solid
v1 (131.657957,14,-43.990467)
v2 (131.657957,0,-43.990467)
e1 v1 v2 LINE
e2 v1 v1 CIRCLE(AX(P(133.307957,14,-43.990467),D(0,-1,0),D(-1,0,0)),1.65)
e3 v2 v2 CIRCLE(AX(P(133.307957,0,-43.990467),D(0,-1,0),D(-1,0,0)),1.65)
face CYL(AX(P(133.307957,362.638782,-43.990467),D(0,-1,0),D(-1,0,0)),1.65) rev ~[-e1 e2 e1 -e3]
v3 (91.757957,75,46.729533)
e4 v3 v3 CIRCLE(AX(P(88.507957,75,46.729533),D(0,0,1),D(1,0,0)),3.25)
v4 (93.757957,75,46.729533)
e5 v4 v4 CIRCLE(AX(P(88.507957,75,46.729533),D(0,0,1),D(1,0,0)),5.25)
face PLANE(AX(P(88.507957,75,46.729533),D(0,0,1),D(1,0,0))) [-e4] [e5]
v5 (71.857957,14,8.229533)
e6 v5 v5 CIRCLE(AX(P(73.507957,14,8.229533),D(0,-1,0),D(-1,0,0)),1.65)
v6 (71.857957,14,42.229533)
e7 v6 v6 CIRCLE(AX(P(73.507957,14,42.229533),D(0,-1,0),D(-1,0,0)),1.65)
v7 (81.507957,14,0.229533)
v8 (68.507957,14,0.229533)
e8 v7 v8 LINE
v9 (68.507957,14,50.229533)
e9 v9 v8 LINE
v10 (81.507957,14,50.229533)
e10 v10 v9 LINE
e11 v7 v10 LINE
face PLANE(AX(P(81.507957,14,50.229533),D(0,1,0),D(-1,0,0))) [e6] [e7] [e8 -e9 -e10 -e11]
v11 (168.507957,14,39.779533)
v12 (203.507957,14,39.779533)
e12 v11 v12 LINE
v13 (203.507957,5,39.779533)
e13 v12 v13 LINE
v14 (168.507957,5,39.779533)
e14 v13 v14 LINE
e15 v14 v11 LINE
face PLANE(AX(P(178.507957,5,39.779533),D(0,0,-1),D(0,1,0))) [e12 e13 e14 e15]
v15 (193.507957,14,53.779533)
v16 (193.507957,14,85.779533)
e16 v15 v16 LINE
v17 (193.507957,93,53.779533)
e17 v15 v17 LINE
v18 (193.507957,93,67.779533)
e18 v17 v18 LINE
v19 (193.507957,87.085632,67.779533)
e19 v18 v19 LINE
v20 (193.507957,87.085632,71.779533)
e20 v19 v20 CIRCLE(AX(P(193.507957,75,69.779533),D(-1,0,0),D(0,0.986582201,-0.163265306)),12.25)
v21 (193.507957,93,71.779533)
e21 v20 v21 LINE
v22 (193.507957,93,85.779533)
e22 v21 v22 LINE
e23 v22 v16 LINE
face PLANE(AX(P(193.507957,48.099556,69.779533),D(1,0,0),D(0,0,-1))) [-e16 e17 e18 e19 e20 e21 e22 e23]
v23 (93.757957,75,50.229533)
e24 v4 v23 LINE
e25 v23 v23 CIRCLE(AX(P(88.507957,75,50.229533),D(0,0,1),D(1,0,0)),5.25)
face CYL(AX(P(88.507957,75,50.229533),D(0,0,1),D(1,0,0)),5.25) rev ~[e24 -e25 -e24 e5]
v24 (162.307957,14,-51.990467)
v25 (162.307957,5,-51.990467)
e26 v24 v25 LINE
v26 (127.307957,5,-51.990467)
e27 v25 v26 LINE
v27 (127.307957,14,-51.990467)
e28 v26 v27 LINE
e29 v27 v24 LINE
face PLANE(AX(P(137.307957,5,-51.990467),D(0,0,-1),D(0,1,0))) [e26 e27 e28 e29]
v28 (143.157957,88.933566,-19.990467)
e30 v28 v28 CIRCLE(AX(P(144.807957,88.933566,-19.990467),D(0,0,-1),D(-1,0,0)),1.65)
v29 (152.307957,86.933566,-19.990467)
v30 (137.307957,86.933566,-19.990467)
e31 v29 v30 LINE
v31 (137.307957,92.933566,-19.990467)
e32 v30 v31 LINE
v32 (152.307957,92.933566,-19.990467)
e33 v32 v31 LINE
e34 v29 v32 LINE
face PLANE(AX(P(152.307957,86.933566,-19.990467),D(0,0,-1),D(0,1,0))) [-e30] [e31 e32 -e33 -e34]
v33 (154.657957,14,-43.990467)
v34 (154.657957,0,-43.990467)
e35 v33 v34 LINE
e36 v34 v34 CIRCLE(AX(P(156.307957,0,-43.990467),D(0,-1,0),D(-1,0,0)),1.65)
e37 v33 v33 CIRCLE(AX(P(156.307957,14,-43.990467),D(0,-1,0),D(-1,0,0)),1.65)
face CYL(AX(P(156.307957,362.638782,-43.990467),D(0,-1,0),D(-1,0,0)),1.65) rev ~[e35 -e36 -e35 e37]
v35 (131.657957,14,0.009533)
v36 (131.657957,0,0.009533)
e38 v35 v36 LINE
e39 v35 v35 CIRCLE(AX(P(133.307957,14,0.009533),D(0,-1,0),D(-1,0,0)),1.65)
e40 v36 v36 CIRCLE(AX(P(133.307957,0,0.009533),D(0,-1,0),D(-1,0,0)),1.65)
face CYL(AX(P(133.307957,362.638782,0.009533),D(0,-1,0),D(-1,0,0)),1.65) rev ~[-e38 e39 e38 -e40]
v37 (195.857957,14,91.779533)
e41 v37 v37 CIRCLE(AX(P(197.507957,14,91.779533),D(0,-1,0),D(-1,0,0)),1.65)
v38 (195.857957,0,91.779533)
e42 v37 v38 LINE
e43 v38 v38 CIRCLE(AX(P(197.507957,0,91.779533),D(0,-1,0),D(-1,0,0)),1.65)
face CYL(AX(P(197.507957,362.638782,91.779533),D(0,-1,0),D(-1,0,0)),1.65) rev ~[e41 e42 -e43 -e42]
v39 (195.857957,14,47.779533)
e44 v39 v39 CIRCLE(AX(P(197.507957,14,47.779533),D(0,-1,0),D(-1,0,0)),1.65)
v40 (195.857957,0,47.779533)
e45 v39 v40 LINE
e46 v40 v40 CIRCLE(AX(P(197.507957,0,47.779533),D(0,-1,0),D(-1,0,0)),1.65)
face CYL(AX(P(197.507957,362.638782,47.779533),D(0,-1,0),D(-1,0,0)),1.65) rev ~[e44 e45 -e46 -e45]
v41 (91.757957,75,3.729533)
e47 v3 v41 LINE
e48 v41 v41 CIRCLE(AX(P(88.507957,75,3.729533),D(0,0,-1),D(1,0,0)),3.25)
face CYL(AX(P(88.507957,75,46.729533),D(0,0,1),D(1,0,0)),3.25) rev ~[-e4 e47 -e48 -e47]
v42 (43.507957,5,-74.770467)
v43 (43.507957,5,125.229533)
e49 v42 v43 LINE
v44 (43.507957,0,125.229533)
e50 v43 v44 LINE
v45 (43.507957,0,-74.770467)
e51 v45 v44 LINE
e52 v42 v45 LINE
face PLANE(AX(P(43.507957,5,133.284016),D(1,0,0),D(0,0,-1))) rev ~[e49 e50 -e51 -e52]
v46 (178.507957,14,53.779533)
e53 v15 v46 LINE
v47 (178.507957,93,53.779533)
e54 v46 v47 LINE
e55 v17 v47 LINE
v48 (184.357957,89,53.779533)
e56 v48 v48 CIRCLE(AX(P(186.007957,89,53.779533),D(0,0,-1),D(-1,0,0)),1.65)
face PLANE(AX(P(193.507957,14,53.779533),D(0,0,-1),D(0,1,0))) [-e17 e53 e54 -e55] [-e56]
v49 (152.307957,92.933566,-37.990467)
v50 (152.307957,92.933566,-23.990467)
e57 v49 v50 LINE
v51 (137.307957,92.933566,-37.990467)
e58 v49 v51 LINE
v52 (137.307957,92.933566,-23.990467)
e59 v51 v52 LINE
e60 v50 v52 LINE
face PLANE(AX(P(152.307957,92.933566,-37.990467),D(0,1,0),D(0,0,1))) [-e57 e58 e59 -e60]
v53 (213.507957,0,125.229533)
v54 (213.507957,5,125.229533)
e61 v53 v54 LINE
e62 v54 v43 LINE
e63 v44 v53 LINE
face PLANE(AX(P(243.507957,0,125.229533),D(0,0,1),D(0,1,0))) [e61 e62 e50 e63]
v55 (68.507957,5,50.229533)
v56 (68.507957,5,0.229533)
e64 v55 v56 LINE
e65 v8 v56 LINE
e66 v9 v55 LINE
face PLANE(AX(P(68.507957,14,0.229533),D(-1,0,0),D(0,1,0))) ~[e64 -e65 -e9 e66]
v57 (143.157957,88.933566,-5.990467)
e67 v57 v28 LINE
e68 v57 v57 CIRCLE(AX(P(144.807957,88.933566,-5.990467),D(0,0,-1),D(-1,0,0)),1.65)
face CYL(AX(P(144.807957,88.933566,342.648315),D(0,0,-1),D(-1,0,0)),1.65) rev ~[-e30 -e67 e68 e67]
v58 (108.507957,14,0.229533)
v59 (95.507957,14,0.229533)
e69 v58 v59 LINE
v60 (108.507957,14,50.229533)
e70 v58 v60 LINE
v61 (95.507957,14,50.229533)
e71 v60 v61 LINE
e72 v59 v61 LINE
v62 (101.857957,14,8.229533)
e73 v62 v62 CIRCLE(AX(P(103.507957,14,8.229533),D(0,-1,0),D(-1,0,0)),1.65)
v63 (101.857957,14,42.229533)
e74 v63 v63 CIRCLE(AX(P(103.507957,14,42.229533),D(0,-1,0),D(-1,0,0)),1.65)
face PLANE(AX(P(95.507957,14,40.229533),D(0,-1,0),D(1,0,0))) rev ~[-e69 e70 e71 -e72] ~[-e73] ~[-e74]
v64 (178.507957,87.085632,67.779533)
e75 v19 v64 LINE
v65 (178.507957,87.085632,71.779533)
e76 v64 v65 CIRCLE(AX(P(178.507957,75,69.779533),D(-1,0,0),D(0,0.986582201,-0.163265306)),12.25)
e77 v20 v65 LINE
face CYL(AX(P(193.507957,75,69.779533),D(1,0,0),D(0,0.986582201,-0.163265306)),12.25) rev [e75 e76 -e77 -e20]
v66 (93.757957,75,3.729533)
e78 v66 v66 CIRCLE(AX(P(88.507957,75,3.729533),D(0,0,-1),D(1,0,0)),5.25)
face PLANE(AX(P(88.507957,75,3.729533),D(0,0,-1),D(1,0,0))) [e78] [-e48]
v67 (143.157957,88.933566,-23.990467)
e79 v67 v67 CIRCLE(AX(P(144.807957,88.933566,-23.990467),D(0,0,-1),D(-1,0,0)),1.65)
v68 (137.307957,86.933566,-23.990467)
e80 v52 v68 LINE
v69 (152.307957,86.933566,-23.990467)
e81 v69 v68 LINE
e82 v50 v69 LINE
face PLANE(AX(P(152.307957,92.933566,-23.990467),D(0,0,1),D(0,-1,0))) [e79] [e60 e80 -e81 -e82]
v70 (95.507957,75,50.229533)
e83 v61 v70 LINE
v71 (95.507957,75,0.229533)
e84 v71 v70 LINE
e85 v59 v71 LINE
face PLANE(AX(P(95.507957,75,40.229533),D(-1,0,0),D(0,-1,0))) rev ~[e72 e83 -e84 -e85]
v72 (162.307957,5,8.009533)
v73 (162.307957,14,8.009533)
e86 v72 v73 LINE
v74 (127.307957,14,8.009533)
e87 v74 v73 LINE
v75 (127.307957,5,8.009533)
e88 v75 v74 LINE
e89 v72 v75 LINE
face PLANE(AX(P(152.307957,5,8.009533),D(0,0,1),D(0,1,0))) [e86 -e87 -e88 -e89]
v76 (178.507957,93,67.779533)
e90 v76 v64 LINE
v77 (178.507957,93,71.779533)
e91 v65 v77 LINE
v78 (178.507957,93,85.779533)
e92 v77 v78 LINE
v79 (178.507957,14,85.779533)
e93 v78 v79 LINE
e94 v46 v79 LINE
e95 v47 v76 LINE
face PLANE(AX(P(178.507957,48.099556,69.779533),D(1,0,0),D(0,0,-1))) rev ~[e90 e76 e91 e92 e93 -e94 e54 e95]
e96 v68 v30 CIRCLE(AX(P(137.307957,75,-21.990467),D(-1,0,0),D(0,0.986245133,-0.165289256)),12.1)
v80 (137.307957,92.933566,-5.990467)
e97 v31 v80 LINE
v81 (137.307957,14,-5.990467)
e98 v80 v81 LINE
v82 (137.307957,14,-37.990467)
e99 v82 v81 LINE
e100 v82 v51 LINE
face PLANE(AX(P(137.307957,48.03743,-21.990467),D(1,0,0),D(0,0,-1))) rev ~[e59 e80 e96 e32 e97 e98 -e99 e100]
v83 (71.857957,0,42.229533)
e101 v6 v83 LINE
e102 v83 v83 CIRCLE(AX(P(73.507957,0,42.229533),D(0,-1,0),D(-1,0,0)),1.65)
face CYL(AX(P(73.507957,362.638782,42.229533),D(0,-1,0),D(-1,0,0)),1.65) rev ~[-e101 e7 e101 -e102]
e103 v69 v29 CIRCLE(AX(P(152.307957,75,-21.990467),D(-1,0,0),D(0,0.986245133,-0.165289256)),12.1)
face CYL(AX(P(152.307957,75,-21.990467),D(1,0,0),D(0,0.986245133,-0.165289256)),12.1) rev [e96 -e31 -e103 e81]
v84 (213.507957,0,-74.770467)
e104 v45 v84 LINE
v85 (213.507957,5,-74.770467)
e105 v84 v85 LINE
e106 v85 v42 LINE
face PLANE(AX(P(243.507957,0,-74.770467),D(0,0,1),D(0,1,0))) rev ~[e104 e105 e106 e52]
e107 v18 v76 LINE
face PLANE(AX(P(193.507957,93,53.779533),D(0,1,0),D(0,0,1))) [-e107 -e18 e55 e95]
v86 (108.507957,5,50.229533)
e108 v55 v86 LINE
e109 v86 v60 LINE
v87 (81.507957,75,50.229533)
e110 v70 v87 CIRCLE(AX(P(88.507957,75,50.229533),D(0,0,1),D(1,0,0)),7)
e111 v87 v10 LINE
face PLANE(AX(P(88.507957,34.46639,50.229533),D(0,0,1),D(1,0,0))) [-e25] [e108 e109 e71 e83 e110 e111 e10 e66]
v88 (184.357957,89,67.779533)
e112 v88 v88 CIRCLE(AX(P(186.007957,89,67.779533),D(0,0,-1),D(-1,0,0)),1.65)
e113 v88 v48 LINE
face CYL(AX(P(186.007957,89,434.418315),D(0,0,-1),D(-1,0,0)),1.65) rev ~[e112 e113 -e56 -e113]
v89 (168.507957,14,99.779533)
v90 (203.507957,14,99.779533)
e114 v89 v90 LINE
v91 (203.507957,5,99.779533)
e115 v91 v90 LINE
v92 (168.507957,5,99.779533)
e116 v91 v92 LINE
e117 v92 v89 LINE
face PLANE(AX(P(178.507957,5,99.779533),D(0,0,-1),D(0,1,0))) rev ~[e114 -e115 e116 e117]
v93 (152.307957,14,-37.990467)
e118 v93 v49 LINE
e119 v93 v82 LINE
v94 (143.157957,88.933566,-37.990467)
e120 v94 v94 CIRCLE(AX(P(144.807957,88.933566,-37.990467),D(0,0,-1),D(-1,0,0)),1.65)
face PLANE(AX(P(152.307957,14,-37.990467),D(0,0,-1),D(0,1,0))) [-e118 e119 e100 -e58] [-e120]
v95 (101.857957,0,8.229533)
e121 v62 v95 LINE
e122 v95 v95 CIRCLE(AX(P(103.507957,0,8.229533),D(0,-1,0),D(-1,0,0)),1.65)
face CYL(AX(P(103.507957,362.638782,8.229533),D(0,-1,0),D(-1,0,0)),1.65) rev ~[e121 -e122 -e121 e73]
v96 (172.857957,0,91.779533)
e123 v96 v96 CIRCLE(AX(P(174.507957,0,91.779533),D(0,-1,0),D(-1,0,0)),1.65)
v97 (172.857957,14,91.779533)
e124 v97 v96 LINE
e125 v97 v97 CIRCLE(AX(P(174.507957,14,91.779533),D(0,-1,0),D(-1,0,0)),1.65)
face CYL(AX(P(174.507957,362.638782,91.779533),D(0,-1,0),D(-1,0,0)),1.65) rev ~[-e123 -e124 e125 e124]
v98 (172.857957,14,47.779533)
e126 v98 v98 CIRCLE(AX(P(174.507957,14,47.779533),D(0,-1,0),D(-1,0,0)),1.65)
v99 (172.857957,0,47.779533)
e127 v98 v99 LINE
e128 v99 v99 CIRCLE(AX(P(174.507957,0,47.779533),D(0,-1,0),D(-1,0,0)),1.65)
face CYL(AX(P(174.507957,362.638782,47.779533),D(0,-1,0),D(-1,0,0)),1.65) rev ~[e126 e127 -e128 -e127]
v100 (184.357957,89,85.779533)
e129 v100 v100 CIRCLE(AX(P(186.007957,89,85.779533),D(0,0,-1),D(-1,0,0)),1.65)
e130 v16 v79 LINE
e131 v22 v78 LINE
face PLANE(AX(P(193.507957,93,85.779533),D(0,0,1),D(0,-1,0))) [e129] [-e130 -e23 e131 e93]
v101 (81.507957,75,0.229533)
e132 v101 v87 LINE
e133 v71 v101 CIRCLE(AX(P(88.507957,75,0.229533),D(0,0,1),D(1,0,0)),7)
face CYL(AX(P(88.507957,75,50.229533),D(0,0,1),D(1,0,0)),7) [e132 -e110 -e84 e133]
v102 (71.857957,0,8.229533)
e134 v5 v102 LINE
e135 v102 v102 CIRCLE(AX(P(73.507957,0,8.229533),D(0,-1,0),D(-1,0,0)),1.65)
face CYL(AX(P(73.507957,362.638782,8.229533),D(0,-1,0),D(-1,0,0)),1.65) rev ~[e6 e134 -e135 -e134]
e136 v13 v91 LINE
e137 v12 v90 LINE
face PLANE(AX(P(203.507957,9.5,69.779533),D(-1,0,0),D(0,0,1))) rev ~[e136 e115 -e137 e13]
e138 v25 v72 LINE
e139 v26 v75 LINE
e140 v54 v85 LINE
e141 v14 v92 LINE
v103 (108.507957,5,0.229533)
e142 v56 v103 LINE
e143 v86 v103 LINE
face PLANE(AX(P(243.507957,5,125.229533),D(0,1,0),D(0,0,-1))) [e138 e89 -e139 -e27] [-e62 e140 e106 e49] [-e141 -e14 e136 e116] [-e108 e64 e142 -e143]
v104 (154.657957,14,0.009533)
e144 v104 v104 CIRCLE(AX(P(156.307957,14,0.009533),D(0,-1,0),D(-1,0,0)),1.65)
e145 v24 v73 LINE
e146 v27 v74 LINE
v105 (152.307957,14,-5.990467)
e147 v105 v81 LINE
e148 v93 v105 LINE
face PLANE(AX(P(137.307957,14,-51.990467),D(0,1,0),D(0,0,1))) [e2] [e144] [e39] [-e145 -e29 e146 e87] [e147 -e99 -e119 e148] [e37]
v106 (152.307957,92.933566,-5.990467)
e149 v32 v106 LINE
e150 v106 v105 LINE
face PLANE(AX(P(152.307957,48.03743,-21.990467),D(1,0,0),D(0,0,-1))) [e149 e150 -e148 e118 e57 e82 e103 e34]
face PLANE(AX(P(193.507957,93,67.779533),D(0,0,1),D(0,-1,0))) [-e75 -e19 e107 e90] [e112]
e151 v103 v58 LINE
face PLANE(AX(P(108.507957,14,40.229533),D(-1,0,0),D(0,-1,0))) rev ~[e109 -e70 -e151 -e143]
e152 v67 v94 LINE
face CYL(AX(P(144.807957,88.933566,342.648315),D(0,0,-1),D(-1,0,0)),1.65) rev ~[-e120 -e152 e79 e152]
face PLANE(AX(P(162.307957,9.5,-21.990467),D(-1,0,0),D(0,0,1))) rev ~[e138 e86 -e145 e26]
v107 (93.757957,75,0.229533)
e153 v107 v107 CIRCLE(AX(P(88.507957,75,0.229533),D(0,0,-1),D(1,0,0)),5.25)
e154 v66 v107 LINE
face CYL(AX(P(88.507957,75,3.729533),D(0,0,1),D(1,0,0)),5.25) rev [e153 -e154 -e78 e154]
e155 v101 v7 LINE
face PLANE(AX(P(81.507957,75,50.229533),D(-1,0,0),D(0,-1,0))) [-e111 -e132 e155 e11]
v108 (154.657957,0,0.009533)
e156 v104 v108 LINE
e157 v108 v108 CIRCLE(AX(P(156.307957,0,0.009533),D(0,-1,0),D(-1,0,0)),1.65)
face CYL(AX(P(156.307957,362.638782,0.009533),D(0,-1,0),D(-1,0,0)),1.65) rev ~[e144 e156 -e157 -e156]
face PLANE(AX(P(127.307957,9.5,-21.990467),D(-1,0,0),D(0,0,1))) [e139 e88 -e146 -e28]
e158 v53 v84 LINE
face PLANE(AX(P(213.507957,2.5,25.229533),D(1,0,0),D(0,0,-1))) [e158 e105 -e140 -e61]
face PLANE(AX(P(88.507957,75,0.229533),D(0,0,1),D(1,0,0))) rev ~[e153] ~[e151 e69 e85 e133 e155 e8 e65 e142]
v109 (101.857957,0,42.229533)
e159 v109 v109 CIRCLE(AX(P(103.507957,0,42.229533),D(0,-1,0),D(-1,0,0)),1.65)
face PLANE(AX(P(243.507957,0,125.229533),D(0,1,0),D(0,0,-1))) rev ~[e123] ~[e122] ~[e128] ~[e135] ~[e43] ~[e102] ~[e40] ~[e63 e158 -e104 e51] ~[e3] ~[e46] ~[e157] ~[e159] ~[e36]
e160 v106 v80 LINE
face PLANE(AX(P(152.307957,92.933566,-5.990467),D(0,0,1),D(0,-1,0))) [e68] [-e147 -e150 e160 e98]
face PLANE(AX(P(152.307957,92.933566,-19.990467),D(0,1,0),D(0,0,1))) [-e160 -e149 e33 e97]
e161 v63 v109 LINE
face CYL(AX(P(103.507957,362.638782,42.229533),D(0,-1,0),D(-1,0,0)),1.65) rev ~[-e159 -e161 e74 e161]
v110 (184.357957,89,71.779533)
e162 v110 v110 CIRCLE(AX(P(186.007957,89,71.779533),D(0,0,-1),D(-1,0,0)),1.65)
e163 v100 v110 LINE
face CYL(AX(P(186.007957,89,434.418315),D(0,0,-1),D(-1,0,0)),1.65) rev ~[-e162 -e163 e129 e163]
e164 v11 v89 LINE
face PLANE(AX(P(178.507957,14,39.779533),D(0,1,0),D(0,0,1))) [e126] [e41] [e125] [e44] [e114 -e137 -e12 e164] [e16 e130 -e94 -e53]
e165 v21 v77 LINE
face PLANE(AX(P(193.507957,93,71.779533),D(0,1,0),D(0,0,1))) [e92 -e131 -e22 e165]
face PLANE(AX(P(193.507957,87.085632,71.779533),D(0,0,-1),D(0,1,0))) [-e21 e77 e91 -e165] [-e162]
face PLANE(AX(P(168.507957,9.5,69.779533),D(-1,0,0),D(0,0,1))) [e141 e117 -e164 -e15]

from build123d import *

# Parameters (mm, degrees)
SKETCH_2_W               = 240.549430728
SKETCH_2_H               = 149.540933388
EXTRUDE_1_DEPTH          = 5
SKETCH_6_W               = 93.246571425
SKETCH_6_H               = 149.540933388
EXTRUDE_4_DEPTH          = 5
SKETCH_8_W               = 274.716709757
SKETCH_8_H               = 58.51354913
EXTRUDE_6_DEPTH          = 5
CUT_EXTRUDE_2_DEPTH      = 252.755772101
CUT_EXTRUDE_2_DEPTH_BACK = 252.755772101
SKETCH_9_W               = 59.079292396
SKETCH_9_H               = 149.540933388
SKETCH_10_W              = 104.703380117
SKETCH_10_H              = 208.054482518
CUT_EXTRUDE_3_DEPTH      = 10
SKETCH_12_W              = 200
SKETCH_12_H              = 200
EXTRUDE_7_DEPTH          = 5
SKETCH_13_OUTSIDE_W      = 259.728
SKETCH_13_OUTSIDE_H      = 267.782
SKETCH_13_OUTSIDE_W_2    = 200
SKETCH_13_OUTSIDE_H_2    = 200
CUT_EXTRUDE_4_DEPTH      = 278.64321362
EXTRUDE_START            = -75
SKETCH_18_R              = 5.25
EXTRUDE_9_DEPTH          = 10
EXTRUDE_START_2          = -50
EXTRUDE_10_DEPTH         = 15
EXTRUDE_START_3          = -91.2
EXTRUDE_11_DEPTH         = 15
EXTRUDE_12_REACH         = 286.904
SKETCH_20_R              = 5.25
SKETCH_26_W              = 200
SKETCH_26_H              = 5
EXTRUDE_13_DEPTH         = 100
SKETCH_27_W              = 200
SKETCH_27_H              = 5
CUT_EXTRUDE_5_DEPTH      = 30
EXTRUDE_14_DEPTH         = 10
SKETCH_29_W              = 60
SKETCH_29_H              = 9
EXTRUDE_15_DEPTH         = 10
HOLE_WIZARD_M4_1_D       = 3.3
HOLE_WIZARD_M4_2_D       = 3.3
HOLE_WIZARD_M4_3_D       = 3.3
EXTRUDE_16_DEPTH         = 10
SKETCH_37_W              = 60
SKETCH_37_H              = 9
EXTRUDE_17_DEPTH         = 10
HOLE_WIZARD_M4_4_D       = 3.3
EXTRUDE_START_4          = -3.5
SKETCH_40_R              = 5.25
SKETCH_40_R_2            = 3.25
EXTRUDE_18_DEPTH         = 46.5
CUT_EXTRUDE_START        = -3.5
SKETCH_41_R              = 5.25
SKETCH_41_R_2            = 3.25
CUT_EXTRUDE_6_DEPTH      = 3.5
HOLE_WIZARD_M4_5_D       = 3.3
SKETCH_44_W              = 200
SKETCH_44_H              = 5
CUT_EXTRUDE_7_DEPTH      = 100


with BuildPart() as part:
    # 草图2 → 凸台-拉伸1 (new body)
    with BuildSketch(Plane(origin=(0, 0, 0), x_dir=(1, 0, 0), z_dir=(0, 1, 0))):
        Rectangle(SKETCH_2_W, SKETCH_2_H)
    extrude(amount=EXTRUDE_1_DEPTH)

    # 草图6 → 凸台-拉伸4 (add)
    with BuildSketch(Plane(origin=(0, 5, 0), x_dir=(1, 0, 0), z_dir=(0, 1, 0))):
        with Locations((166.898001077, 0)):
            Rectangle(SKETCH_6_W, SKETCH_6_H)
    extrude(amount=-EXTRUDE_4_DEPTH)

    # 草图8 → 凸台-拉伸6 (add)
    with BuildSketch(Plane(origin=(0, 5, 0), x_dir=(1, 0, 0), z_dir=(0, 1, 0))):
        with Locations((76.162931911, -104.027241259)):
            Rectangle(SKETCH_8_W, SKETCH_8_H)
    extrude(amount=-EXTRUDE_6_DEPTH)

    # 草图9 → 切除-拉伸2 (cut, two sides: drawn at the far end of the back side and taken through both)
    with BuildSketch(Plane(origin=(0, 5, 0), x_dir=(1, 0, 0), z_dir=(0, 1, 0)).offset(-CUT_EXTRUDE_2_DEPTH_BACK)):
        with Locations((-90.735069166, 0)):
            Rectangle(SKETCH_9_W, SKETCH_9_H)
    extrude(amount=CUT_EXTRUDE_2_DEPTH + CUT_EXTRUDE_2_DEPTH_BACK, mode=Mode.SUBTRACT)

    # 草图10 → 切除-拉伸3 (cut)
    with BuildSketch(Plane(origin=(0, 5, 0), x_dir=(1, 0, 0), z_dir=(0, 1, 0))):
        with Locations((-8.84373291, -29.256774565)):
            Rectangle(SKETCH_10_W, SKETCH_10_H)
    extrude(amount=-CUT_EXTRUDE_3_DEPTH, mode=Mode.SUBTRACT)

    # 草图12 → 凸台-拉伸7 (add)
    with BuildSketch(Plane(origin=(0, 5, 0), x_dir=(1, 0, 0), z_dir=(0, 1, 0))):
        with Locations((143.507957149, -25.229533306)):
            Rectangle(SKETCH_12_W, SKETCH_12_H)
    extrude(amount=-EXTRUDE_7_DEPTH)

    # 草图13 outside → 切除-拉伸4 (cut, through all)
    with BuildSketch(Plane(origin=(0, 5, 0), x_dir=(1, 0, 0), z_dir=(0, 1, 0))):
        with Locations((143.508, -29.257)):
            Rectangle(SKETCH_13_OUTSIDE_W, SKETCH_13_OUTSIDE_H)
        with Locations((143.507957149, -25.229533306)):
            Rectangle(SKETCH_13_OUTSIDE_W_2, SKETCH_13_OUTSIDE_H_2, mode=Mode.SUBTRACT)
    extrude(amount=-CUT_EXTRUDE_4_DEPTH, mode=Mode.SUBTRACT)

    # 草图18 → 凸台-拉伸9 (add)
    with BuildSketch(Plane.XY.offset(125.229533306).offset(EXTRUDE_START)):
        with BuildLine():
            Line((95.507957149, 14), (95.507957149, 75))
            ThreePointArc((95.507957149, 75), (88.507957149, 82), (81.507957149, 75))
            Line((81.507957149, 75), (81.507957149, 14))
            Line((81.507957149, 14), (68.507957149, 14))
            Line((68.507957149, 14), (68.507957149, 5))
            Line((68.507957149, 5), (108.507957149, 5))
            Line((108.507957149, 5), (108.507957149, 14))
            Line((108.507957149, 14), (95.507957149, 14))
        make_face()
        with Locations((88.507957149, 75)):
            Circle(SKETCH_18_R, mode=Mode.SUBTRACT)
    extrude_9 = extrude(amount=-EXTRUDE_9_DEPTH)

    # 镜向1: 凸台-拉伸9 across plane
    add(extrude_9.mirror(Plane.XY.offset(25.229533306)))

    # 草图16 → 凸台-拉伸10 (add)
    with BuildSketch(Plane(origin=(243.507957149, 0, 0), x_dir=(0, 0, -1), z_dir=(1, 0, 0)).offset(EXTRUDE_START_2)):
        with BuildLine():
            Line((-53.779533306, 14), (-53.779533306, 93))
            Line((-53.779533306, 93), (-67.779533306, 93))
            Line((-67.779533306, 93), (-67.779533306, 87.085631965))
            ThreePointArc((-67.779533306, 87.085631965), (-69.779533306, 62.75), (-71.779533306, 87.085631965))
            Line((-71.779533306, 87.085631965), (-71.779533306, 93))
            Line((-71.779533306, 93), (-85.779533306, 93))
            Line((-85.779533306, 93), (-85.779533306, 14))
            Line((-85.779533306, 14), (-99.779533306, 14))
            Line((-99.779533306, 14), (-99.779533306, 5))
            Line((-99.779533306, 5), (-39.779533306, 5))
            Line((-39.779533306, 5), (-39.779533306, 14))
            Line((-39.779533306, 14), (-53.779533306, 14))
        make_face()
    extrude(amount=-EXTRUDE_10_DEPTH)

    # 草图19 → 凸台-拉伸11 (add)
    with BuildSketch(Plane(origin=(243.507957149, 0, 0), x_dir=(0, 0, -1), z_dir=(1, 0, 0)).offset(EXTRUDE_START_3)):
        with BuildLine():
            Line((37.990466694, 14), (37.990466694, 92.933566106))
            Line((37.990466694, 92.933566106), (23.990466694, 92.933566106))
            Line((23.990466694, 92.933566106), (23.990466694, 86.933566106))
            ThreePointArc((23.990466694, 86.933566106), (21.990466694, 62.9), (19.990466694, 86.933566106))
            Line((19.990466694, 86.933566106), (19.990466694, 92.933566106))
            Line((19.990466694, 92.933566106), (5.990466694, 92.933566106))
            Line((5.990466694, 92.933566106), (5.990466694, 14))
            Line((5.990466694, 14), (-8.009533306, 14))
            Line((-8.009533306, 14), (-8.009533306, 5))
            Line((-8.009533306, 5), (51.990466694, 5))
            Line((51.990466694, 5), (51.990466694, 14))
            Line((51.990466694, 14), (37.990466694, 14))
        make_face()
    extrude(amount=-EXTRUDE_11_DEPTH)

    # 草图20 → 凸台-拉伸12 (add, up to next)
    with BuildSketch(Plane(origin=(0, 0, 40.229533306), x_dir=(-1, 0, 0), z_dir=(0, 0, -1)), mode=Mode.PRIVATE) as extrude_12_sk1:
        with BuildLine():
            Line((-108.507957149, 5), (-68.507957149, 5))
            Line((-68.507957149, 5), (-68.507957149, 14))
            Line((-68.507957149, 14), (-81.507957149, 14))
            Line((-81.507957149, 14), (-81.507957149, 75))
            ThreePointArc((-81.507957149, 75), (-88.507957149, 82), (-95.507957149, 75))
            Line((-95.507957149, 75), (-95.507957149, 14))
            Line((-95.507957149, 14), (-108.507957149, 14))
            Line((-108.507957149, 14), (-108.507957149, 5))
        make_face()
        with Locations(Location((-88.507957149, 75, 0), (0, 0, 180))):
            Circle(SKETCH_20_R, mode=Mode.SUBTRACT)
    extrude_12_tool1 = extrude(extrude_12_sk1.sketch, amount=EXTRUDE_12_REACH, mode=Mode.PRIVATE) - part.part
    add(extrude_12_tool1.solids().sort_by_distance((88.507957, 33.984391, 40.229533))[0])

    # 草图26 → 凸台-拉伸13 (add)
    with BuildSketch(Plane(origin=(243.507957149, 0, 0), x_dir=(0, 0, -1), z_dir=(1, 0, 0))):
        with Locations((-25.229533306, 2.5)):
            Rectangle(SKETCH_26_W, SKETCH_26_H)
    extrude(amount=EXTRUDE_13_DEPTH)

    # 草图27 → 切除-拉伸5 (cut)
    with BuildSketch(Plane(origin=(343.507957149, 0, 0), x_dir=(0, 0, -1), z_dir=(1, 0, 0))):
        with Locations((-25.229533306, 2.5)):
            Rectangle(SKETCH_27_W, SKETCH_27_H)
    extrude(amount=-CUT_EXTRUDE_5_DEPTH, mode=Mode.SUBTRACT)

    # 草图28 → 凸台-拉伸14 (add)
    with BuildSketch(Plane(origin=(193.507957149, 0, 0), x_dir=(0, 0, -1), z_dir=(1, 0, 0))):
        Polygon((-85.779533306, 14), (-53.779533306, 14), (-39.779533306, 14), (-39.779533306, 5), (-99.779533306, 5), (-99.779533306, 14), align=None)
    extrude(amount=EXTRUDE_14_DEPTH)

    # 草图29 → 凸台-拉伸15 (add)
    with BuildSketch(Plane.ZY.offset(-178.507957149)):
        with Locations((69.779533306, 9.5)):
            Rectangle(SKETCH_29_W, SKETCH_29_H)
    extrude(amount=EXTRUDE_15_DEPTH)

    # M4 螺纹孔1 (through all)
    with Locations(Plane(origin=(0, 14, 0), x_dir=(1, 0, 0), z_dir=(0, 1, 0))):
        with Locations((174.507957149, -47.779533306), (197.507957149, -47.779533306), (197.507957149, -91.779533306), (174.507957149, -91.779533306)):
            Hole(HOLE_WIZARD_M4_1_D / 2)

    # M4 螺纹孔2 (through all)
    with Locations(Plane.XY.offset(85.779533306)):
        with Locations((186.007957149, 89)):
            Hole(HOLE_WIZARD_M4_2_D / 2)

    # M4 螺纹孔3 (through all)
    with Locations(Plane.XY.offset(-5.990466694)):
        with Locations((144.807957149, 88.933566106)):
            Hole(HOLE_WIZARD_M4_3_D / 2)

    # 草图36 → 凸台-拉伸16 (add)
    with BuildSketch(Plane(origin=(152.307957149, 0, 0), x_dir=(0, 0, -1), z_dir=(1, 0, 0))):
        Polygon((5.990466694, 14), (37.990466694, 14), (51.990466694, 14), (51.990466694, 5), (-8.009533306, 5), (-8.009533306, 14), align=None)
    extrude(amount=EXTRUDE_16_DEPTH)

    # 草图37 → 凸台-拉伸17 (add)
    with BuildSketch(Plane.ZY.offset(-137.307957149)):
        with Locations((-21.990466694, 9.5)):
            Rectangle(SKETCH_37_W, SKETCH_37_H)
    extrude(amount=EXTRUDE_17_DEPTH)

    # M4 螺纹孔4 (through all)
    with Locations(Plane(origin=(0, 14, 0), x_dir=(1, 0, 0), z_dir=(0, 1, 0))):
        with Locations((133.307957149, 43.990466694), (156.307957149, 43.990466694), (156.307957149, -0.009533306), (133.307957149, -0.009533306)):
            Hole(HOLE_WIZARD_M4_4_D / 2)

    # 草图40 → 凸台-拉伸18 (add)
    with BuildSketch(Plane.XY.offset(50.229533306).offset(EXTRUDE_START_4)):
        with Locations((88.507957149, 75)):
            Circle(SKETCH_40_R)
        with Locations((88.507957149, 75)):
            Circle(SKETCH_40_R_2, mode=Mode.SUBTRACT)
    extrude(amount=-EXTRUDE_18_DEPTH)

    # 草图41 → 切除-拉伸6 (cut)
    with BuildSketch(Plane(origin=(0, 0, 0.229533306), x_dir=(-1, 0, 0), z_dir=(0, 0, -1)).offset(CUT_EXTRUDE_START)):
        with Locations(Location((-88.507957149, 75, 0), (0, 0, 180))):
            Circle(SKETCH_41_R)
        with Locations(Location((-88.507957149, 75, 0), (0, 0, 180))):
            Circle(SKETCH_41_R_2, mode=Mode.SUBTRACT)
    extrude(amount=CUT_EXTRUDE_6_DEPTH, mode=Mode.SUBTRACT)

    # M4 螺纹孔5 (through all)
    with Locations(Plane(origin=(0, 14, 0), x_dir=(1, 0, 0), z_dir=(0, 1, 0))):
        with Locations((73.507957149, -8.229533306), (103.507957149, -8.229533306), (103.507957149, -42.229533306), (73.507957149, -42.229533306)):
            Hole(HOLE_WIZARD_M4_5_D / 2)

    # 草图44 → 切除-拉伸7 (cut)
    with BuildSketch(Plane(origin=(313.507957149, 0, 0), x_dir=(0, 0, -1), z_dir=(1, 0, 0))):
        with Locations((-25.229533306, 2.5)):
            Rectangle(SKETCH_44_W, SKETCH_44_H)
    extrude(amount=-CUT_EXTRUDE_7_DEPTH, mode=Mode.SUBTRACT)


solid = part.part
